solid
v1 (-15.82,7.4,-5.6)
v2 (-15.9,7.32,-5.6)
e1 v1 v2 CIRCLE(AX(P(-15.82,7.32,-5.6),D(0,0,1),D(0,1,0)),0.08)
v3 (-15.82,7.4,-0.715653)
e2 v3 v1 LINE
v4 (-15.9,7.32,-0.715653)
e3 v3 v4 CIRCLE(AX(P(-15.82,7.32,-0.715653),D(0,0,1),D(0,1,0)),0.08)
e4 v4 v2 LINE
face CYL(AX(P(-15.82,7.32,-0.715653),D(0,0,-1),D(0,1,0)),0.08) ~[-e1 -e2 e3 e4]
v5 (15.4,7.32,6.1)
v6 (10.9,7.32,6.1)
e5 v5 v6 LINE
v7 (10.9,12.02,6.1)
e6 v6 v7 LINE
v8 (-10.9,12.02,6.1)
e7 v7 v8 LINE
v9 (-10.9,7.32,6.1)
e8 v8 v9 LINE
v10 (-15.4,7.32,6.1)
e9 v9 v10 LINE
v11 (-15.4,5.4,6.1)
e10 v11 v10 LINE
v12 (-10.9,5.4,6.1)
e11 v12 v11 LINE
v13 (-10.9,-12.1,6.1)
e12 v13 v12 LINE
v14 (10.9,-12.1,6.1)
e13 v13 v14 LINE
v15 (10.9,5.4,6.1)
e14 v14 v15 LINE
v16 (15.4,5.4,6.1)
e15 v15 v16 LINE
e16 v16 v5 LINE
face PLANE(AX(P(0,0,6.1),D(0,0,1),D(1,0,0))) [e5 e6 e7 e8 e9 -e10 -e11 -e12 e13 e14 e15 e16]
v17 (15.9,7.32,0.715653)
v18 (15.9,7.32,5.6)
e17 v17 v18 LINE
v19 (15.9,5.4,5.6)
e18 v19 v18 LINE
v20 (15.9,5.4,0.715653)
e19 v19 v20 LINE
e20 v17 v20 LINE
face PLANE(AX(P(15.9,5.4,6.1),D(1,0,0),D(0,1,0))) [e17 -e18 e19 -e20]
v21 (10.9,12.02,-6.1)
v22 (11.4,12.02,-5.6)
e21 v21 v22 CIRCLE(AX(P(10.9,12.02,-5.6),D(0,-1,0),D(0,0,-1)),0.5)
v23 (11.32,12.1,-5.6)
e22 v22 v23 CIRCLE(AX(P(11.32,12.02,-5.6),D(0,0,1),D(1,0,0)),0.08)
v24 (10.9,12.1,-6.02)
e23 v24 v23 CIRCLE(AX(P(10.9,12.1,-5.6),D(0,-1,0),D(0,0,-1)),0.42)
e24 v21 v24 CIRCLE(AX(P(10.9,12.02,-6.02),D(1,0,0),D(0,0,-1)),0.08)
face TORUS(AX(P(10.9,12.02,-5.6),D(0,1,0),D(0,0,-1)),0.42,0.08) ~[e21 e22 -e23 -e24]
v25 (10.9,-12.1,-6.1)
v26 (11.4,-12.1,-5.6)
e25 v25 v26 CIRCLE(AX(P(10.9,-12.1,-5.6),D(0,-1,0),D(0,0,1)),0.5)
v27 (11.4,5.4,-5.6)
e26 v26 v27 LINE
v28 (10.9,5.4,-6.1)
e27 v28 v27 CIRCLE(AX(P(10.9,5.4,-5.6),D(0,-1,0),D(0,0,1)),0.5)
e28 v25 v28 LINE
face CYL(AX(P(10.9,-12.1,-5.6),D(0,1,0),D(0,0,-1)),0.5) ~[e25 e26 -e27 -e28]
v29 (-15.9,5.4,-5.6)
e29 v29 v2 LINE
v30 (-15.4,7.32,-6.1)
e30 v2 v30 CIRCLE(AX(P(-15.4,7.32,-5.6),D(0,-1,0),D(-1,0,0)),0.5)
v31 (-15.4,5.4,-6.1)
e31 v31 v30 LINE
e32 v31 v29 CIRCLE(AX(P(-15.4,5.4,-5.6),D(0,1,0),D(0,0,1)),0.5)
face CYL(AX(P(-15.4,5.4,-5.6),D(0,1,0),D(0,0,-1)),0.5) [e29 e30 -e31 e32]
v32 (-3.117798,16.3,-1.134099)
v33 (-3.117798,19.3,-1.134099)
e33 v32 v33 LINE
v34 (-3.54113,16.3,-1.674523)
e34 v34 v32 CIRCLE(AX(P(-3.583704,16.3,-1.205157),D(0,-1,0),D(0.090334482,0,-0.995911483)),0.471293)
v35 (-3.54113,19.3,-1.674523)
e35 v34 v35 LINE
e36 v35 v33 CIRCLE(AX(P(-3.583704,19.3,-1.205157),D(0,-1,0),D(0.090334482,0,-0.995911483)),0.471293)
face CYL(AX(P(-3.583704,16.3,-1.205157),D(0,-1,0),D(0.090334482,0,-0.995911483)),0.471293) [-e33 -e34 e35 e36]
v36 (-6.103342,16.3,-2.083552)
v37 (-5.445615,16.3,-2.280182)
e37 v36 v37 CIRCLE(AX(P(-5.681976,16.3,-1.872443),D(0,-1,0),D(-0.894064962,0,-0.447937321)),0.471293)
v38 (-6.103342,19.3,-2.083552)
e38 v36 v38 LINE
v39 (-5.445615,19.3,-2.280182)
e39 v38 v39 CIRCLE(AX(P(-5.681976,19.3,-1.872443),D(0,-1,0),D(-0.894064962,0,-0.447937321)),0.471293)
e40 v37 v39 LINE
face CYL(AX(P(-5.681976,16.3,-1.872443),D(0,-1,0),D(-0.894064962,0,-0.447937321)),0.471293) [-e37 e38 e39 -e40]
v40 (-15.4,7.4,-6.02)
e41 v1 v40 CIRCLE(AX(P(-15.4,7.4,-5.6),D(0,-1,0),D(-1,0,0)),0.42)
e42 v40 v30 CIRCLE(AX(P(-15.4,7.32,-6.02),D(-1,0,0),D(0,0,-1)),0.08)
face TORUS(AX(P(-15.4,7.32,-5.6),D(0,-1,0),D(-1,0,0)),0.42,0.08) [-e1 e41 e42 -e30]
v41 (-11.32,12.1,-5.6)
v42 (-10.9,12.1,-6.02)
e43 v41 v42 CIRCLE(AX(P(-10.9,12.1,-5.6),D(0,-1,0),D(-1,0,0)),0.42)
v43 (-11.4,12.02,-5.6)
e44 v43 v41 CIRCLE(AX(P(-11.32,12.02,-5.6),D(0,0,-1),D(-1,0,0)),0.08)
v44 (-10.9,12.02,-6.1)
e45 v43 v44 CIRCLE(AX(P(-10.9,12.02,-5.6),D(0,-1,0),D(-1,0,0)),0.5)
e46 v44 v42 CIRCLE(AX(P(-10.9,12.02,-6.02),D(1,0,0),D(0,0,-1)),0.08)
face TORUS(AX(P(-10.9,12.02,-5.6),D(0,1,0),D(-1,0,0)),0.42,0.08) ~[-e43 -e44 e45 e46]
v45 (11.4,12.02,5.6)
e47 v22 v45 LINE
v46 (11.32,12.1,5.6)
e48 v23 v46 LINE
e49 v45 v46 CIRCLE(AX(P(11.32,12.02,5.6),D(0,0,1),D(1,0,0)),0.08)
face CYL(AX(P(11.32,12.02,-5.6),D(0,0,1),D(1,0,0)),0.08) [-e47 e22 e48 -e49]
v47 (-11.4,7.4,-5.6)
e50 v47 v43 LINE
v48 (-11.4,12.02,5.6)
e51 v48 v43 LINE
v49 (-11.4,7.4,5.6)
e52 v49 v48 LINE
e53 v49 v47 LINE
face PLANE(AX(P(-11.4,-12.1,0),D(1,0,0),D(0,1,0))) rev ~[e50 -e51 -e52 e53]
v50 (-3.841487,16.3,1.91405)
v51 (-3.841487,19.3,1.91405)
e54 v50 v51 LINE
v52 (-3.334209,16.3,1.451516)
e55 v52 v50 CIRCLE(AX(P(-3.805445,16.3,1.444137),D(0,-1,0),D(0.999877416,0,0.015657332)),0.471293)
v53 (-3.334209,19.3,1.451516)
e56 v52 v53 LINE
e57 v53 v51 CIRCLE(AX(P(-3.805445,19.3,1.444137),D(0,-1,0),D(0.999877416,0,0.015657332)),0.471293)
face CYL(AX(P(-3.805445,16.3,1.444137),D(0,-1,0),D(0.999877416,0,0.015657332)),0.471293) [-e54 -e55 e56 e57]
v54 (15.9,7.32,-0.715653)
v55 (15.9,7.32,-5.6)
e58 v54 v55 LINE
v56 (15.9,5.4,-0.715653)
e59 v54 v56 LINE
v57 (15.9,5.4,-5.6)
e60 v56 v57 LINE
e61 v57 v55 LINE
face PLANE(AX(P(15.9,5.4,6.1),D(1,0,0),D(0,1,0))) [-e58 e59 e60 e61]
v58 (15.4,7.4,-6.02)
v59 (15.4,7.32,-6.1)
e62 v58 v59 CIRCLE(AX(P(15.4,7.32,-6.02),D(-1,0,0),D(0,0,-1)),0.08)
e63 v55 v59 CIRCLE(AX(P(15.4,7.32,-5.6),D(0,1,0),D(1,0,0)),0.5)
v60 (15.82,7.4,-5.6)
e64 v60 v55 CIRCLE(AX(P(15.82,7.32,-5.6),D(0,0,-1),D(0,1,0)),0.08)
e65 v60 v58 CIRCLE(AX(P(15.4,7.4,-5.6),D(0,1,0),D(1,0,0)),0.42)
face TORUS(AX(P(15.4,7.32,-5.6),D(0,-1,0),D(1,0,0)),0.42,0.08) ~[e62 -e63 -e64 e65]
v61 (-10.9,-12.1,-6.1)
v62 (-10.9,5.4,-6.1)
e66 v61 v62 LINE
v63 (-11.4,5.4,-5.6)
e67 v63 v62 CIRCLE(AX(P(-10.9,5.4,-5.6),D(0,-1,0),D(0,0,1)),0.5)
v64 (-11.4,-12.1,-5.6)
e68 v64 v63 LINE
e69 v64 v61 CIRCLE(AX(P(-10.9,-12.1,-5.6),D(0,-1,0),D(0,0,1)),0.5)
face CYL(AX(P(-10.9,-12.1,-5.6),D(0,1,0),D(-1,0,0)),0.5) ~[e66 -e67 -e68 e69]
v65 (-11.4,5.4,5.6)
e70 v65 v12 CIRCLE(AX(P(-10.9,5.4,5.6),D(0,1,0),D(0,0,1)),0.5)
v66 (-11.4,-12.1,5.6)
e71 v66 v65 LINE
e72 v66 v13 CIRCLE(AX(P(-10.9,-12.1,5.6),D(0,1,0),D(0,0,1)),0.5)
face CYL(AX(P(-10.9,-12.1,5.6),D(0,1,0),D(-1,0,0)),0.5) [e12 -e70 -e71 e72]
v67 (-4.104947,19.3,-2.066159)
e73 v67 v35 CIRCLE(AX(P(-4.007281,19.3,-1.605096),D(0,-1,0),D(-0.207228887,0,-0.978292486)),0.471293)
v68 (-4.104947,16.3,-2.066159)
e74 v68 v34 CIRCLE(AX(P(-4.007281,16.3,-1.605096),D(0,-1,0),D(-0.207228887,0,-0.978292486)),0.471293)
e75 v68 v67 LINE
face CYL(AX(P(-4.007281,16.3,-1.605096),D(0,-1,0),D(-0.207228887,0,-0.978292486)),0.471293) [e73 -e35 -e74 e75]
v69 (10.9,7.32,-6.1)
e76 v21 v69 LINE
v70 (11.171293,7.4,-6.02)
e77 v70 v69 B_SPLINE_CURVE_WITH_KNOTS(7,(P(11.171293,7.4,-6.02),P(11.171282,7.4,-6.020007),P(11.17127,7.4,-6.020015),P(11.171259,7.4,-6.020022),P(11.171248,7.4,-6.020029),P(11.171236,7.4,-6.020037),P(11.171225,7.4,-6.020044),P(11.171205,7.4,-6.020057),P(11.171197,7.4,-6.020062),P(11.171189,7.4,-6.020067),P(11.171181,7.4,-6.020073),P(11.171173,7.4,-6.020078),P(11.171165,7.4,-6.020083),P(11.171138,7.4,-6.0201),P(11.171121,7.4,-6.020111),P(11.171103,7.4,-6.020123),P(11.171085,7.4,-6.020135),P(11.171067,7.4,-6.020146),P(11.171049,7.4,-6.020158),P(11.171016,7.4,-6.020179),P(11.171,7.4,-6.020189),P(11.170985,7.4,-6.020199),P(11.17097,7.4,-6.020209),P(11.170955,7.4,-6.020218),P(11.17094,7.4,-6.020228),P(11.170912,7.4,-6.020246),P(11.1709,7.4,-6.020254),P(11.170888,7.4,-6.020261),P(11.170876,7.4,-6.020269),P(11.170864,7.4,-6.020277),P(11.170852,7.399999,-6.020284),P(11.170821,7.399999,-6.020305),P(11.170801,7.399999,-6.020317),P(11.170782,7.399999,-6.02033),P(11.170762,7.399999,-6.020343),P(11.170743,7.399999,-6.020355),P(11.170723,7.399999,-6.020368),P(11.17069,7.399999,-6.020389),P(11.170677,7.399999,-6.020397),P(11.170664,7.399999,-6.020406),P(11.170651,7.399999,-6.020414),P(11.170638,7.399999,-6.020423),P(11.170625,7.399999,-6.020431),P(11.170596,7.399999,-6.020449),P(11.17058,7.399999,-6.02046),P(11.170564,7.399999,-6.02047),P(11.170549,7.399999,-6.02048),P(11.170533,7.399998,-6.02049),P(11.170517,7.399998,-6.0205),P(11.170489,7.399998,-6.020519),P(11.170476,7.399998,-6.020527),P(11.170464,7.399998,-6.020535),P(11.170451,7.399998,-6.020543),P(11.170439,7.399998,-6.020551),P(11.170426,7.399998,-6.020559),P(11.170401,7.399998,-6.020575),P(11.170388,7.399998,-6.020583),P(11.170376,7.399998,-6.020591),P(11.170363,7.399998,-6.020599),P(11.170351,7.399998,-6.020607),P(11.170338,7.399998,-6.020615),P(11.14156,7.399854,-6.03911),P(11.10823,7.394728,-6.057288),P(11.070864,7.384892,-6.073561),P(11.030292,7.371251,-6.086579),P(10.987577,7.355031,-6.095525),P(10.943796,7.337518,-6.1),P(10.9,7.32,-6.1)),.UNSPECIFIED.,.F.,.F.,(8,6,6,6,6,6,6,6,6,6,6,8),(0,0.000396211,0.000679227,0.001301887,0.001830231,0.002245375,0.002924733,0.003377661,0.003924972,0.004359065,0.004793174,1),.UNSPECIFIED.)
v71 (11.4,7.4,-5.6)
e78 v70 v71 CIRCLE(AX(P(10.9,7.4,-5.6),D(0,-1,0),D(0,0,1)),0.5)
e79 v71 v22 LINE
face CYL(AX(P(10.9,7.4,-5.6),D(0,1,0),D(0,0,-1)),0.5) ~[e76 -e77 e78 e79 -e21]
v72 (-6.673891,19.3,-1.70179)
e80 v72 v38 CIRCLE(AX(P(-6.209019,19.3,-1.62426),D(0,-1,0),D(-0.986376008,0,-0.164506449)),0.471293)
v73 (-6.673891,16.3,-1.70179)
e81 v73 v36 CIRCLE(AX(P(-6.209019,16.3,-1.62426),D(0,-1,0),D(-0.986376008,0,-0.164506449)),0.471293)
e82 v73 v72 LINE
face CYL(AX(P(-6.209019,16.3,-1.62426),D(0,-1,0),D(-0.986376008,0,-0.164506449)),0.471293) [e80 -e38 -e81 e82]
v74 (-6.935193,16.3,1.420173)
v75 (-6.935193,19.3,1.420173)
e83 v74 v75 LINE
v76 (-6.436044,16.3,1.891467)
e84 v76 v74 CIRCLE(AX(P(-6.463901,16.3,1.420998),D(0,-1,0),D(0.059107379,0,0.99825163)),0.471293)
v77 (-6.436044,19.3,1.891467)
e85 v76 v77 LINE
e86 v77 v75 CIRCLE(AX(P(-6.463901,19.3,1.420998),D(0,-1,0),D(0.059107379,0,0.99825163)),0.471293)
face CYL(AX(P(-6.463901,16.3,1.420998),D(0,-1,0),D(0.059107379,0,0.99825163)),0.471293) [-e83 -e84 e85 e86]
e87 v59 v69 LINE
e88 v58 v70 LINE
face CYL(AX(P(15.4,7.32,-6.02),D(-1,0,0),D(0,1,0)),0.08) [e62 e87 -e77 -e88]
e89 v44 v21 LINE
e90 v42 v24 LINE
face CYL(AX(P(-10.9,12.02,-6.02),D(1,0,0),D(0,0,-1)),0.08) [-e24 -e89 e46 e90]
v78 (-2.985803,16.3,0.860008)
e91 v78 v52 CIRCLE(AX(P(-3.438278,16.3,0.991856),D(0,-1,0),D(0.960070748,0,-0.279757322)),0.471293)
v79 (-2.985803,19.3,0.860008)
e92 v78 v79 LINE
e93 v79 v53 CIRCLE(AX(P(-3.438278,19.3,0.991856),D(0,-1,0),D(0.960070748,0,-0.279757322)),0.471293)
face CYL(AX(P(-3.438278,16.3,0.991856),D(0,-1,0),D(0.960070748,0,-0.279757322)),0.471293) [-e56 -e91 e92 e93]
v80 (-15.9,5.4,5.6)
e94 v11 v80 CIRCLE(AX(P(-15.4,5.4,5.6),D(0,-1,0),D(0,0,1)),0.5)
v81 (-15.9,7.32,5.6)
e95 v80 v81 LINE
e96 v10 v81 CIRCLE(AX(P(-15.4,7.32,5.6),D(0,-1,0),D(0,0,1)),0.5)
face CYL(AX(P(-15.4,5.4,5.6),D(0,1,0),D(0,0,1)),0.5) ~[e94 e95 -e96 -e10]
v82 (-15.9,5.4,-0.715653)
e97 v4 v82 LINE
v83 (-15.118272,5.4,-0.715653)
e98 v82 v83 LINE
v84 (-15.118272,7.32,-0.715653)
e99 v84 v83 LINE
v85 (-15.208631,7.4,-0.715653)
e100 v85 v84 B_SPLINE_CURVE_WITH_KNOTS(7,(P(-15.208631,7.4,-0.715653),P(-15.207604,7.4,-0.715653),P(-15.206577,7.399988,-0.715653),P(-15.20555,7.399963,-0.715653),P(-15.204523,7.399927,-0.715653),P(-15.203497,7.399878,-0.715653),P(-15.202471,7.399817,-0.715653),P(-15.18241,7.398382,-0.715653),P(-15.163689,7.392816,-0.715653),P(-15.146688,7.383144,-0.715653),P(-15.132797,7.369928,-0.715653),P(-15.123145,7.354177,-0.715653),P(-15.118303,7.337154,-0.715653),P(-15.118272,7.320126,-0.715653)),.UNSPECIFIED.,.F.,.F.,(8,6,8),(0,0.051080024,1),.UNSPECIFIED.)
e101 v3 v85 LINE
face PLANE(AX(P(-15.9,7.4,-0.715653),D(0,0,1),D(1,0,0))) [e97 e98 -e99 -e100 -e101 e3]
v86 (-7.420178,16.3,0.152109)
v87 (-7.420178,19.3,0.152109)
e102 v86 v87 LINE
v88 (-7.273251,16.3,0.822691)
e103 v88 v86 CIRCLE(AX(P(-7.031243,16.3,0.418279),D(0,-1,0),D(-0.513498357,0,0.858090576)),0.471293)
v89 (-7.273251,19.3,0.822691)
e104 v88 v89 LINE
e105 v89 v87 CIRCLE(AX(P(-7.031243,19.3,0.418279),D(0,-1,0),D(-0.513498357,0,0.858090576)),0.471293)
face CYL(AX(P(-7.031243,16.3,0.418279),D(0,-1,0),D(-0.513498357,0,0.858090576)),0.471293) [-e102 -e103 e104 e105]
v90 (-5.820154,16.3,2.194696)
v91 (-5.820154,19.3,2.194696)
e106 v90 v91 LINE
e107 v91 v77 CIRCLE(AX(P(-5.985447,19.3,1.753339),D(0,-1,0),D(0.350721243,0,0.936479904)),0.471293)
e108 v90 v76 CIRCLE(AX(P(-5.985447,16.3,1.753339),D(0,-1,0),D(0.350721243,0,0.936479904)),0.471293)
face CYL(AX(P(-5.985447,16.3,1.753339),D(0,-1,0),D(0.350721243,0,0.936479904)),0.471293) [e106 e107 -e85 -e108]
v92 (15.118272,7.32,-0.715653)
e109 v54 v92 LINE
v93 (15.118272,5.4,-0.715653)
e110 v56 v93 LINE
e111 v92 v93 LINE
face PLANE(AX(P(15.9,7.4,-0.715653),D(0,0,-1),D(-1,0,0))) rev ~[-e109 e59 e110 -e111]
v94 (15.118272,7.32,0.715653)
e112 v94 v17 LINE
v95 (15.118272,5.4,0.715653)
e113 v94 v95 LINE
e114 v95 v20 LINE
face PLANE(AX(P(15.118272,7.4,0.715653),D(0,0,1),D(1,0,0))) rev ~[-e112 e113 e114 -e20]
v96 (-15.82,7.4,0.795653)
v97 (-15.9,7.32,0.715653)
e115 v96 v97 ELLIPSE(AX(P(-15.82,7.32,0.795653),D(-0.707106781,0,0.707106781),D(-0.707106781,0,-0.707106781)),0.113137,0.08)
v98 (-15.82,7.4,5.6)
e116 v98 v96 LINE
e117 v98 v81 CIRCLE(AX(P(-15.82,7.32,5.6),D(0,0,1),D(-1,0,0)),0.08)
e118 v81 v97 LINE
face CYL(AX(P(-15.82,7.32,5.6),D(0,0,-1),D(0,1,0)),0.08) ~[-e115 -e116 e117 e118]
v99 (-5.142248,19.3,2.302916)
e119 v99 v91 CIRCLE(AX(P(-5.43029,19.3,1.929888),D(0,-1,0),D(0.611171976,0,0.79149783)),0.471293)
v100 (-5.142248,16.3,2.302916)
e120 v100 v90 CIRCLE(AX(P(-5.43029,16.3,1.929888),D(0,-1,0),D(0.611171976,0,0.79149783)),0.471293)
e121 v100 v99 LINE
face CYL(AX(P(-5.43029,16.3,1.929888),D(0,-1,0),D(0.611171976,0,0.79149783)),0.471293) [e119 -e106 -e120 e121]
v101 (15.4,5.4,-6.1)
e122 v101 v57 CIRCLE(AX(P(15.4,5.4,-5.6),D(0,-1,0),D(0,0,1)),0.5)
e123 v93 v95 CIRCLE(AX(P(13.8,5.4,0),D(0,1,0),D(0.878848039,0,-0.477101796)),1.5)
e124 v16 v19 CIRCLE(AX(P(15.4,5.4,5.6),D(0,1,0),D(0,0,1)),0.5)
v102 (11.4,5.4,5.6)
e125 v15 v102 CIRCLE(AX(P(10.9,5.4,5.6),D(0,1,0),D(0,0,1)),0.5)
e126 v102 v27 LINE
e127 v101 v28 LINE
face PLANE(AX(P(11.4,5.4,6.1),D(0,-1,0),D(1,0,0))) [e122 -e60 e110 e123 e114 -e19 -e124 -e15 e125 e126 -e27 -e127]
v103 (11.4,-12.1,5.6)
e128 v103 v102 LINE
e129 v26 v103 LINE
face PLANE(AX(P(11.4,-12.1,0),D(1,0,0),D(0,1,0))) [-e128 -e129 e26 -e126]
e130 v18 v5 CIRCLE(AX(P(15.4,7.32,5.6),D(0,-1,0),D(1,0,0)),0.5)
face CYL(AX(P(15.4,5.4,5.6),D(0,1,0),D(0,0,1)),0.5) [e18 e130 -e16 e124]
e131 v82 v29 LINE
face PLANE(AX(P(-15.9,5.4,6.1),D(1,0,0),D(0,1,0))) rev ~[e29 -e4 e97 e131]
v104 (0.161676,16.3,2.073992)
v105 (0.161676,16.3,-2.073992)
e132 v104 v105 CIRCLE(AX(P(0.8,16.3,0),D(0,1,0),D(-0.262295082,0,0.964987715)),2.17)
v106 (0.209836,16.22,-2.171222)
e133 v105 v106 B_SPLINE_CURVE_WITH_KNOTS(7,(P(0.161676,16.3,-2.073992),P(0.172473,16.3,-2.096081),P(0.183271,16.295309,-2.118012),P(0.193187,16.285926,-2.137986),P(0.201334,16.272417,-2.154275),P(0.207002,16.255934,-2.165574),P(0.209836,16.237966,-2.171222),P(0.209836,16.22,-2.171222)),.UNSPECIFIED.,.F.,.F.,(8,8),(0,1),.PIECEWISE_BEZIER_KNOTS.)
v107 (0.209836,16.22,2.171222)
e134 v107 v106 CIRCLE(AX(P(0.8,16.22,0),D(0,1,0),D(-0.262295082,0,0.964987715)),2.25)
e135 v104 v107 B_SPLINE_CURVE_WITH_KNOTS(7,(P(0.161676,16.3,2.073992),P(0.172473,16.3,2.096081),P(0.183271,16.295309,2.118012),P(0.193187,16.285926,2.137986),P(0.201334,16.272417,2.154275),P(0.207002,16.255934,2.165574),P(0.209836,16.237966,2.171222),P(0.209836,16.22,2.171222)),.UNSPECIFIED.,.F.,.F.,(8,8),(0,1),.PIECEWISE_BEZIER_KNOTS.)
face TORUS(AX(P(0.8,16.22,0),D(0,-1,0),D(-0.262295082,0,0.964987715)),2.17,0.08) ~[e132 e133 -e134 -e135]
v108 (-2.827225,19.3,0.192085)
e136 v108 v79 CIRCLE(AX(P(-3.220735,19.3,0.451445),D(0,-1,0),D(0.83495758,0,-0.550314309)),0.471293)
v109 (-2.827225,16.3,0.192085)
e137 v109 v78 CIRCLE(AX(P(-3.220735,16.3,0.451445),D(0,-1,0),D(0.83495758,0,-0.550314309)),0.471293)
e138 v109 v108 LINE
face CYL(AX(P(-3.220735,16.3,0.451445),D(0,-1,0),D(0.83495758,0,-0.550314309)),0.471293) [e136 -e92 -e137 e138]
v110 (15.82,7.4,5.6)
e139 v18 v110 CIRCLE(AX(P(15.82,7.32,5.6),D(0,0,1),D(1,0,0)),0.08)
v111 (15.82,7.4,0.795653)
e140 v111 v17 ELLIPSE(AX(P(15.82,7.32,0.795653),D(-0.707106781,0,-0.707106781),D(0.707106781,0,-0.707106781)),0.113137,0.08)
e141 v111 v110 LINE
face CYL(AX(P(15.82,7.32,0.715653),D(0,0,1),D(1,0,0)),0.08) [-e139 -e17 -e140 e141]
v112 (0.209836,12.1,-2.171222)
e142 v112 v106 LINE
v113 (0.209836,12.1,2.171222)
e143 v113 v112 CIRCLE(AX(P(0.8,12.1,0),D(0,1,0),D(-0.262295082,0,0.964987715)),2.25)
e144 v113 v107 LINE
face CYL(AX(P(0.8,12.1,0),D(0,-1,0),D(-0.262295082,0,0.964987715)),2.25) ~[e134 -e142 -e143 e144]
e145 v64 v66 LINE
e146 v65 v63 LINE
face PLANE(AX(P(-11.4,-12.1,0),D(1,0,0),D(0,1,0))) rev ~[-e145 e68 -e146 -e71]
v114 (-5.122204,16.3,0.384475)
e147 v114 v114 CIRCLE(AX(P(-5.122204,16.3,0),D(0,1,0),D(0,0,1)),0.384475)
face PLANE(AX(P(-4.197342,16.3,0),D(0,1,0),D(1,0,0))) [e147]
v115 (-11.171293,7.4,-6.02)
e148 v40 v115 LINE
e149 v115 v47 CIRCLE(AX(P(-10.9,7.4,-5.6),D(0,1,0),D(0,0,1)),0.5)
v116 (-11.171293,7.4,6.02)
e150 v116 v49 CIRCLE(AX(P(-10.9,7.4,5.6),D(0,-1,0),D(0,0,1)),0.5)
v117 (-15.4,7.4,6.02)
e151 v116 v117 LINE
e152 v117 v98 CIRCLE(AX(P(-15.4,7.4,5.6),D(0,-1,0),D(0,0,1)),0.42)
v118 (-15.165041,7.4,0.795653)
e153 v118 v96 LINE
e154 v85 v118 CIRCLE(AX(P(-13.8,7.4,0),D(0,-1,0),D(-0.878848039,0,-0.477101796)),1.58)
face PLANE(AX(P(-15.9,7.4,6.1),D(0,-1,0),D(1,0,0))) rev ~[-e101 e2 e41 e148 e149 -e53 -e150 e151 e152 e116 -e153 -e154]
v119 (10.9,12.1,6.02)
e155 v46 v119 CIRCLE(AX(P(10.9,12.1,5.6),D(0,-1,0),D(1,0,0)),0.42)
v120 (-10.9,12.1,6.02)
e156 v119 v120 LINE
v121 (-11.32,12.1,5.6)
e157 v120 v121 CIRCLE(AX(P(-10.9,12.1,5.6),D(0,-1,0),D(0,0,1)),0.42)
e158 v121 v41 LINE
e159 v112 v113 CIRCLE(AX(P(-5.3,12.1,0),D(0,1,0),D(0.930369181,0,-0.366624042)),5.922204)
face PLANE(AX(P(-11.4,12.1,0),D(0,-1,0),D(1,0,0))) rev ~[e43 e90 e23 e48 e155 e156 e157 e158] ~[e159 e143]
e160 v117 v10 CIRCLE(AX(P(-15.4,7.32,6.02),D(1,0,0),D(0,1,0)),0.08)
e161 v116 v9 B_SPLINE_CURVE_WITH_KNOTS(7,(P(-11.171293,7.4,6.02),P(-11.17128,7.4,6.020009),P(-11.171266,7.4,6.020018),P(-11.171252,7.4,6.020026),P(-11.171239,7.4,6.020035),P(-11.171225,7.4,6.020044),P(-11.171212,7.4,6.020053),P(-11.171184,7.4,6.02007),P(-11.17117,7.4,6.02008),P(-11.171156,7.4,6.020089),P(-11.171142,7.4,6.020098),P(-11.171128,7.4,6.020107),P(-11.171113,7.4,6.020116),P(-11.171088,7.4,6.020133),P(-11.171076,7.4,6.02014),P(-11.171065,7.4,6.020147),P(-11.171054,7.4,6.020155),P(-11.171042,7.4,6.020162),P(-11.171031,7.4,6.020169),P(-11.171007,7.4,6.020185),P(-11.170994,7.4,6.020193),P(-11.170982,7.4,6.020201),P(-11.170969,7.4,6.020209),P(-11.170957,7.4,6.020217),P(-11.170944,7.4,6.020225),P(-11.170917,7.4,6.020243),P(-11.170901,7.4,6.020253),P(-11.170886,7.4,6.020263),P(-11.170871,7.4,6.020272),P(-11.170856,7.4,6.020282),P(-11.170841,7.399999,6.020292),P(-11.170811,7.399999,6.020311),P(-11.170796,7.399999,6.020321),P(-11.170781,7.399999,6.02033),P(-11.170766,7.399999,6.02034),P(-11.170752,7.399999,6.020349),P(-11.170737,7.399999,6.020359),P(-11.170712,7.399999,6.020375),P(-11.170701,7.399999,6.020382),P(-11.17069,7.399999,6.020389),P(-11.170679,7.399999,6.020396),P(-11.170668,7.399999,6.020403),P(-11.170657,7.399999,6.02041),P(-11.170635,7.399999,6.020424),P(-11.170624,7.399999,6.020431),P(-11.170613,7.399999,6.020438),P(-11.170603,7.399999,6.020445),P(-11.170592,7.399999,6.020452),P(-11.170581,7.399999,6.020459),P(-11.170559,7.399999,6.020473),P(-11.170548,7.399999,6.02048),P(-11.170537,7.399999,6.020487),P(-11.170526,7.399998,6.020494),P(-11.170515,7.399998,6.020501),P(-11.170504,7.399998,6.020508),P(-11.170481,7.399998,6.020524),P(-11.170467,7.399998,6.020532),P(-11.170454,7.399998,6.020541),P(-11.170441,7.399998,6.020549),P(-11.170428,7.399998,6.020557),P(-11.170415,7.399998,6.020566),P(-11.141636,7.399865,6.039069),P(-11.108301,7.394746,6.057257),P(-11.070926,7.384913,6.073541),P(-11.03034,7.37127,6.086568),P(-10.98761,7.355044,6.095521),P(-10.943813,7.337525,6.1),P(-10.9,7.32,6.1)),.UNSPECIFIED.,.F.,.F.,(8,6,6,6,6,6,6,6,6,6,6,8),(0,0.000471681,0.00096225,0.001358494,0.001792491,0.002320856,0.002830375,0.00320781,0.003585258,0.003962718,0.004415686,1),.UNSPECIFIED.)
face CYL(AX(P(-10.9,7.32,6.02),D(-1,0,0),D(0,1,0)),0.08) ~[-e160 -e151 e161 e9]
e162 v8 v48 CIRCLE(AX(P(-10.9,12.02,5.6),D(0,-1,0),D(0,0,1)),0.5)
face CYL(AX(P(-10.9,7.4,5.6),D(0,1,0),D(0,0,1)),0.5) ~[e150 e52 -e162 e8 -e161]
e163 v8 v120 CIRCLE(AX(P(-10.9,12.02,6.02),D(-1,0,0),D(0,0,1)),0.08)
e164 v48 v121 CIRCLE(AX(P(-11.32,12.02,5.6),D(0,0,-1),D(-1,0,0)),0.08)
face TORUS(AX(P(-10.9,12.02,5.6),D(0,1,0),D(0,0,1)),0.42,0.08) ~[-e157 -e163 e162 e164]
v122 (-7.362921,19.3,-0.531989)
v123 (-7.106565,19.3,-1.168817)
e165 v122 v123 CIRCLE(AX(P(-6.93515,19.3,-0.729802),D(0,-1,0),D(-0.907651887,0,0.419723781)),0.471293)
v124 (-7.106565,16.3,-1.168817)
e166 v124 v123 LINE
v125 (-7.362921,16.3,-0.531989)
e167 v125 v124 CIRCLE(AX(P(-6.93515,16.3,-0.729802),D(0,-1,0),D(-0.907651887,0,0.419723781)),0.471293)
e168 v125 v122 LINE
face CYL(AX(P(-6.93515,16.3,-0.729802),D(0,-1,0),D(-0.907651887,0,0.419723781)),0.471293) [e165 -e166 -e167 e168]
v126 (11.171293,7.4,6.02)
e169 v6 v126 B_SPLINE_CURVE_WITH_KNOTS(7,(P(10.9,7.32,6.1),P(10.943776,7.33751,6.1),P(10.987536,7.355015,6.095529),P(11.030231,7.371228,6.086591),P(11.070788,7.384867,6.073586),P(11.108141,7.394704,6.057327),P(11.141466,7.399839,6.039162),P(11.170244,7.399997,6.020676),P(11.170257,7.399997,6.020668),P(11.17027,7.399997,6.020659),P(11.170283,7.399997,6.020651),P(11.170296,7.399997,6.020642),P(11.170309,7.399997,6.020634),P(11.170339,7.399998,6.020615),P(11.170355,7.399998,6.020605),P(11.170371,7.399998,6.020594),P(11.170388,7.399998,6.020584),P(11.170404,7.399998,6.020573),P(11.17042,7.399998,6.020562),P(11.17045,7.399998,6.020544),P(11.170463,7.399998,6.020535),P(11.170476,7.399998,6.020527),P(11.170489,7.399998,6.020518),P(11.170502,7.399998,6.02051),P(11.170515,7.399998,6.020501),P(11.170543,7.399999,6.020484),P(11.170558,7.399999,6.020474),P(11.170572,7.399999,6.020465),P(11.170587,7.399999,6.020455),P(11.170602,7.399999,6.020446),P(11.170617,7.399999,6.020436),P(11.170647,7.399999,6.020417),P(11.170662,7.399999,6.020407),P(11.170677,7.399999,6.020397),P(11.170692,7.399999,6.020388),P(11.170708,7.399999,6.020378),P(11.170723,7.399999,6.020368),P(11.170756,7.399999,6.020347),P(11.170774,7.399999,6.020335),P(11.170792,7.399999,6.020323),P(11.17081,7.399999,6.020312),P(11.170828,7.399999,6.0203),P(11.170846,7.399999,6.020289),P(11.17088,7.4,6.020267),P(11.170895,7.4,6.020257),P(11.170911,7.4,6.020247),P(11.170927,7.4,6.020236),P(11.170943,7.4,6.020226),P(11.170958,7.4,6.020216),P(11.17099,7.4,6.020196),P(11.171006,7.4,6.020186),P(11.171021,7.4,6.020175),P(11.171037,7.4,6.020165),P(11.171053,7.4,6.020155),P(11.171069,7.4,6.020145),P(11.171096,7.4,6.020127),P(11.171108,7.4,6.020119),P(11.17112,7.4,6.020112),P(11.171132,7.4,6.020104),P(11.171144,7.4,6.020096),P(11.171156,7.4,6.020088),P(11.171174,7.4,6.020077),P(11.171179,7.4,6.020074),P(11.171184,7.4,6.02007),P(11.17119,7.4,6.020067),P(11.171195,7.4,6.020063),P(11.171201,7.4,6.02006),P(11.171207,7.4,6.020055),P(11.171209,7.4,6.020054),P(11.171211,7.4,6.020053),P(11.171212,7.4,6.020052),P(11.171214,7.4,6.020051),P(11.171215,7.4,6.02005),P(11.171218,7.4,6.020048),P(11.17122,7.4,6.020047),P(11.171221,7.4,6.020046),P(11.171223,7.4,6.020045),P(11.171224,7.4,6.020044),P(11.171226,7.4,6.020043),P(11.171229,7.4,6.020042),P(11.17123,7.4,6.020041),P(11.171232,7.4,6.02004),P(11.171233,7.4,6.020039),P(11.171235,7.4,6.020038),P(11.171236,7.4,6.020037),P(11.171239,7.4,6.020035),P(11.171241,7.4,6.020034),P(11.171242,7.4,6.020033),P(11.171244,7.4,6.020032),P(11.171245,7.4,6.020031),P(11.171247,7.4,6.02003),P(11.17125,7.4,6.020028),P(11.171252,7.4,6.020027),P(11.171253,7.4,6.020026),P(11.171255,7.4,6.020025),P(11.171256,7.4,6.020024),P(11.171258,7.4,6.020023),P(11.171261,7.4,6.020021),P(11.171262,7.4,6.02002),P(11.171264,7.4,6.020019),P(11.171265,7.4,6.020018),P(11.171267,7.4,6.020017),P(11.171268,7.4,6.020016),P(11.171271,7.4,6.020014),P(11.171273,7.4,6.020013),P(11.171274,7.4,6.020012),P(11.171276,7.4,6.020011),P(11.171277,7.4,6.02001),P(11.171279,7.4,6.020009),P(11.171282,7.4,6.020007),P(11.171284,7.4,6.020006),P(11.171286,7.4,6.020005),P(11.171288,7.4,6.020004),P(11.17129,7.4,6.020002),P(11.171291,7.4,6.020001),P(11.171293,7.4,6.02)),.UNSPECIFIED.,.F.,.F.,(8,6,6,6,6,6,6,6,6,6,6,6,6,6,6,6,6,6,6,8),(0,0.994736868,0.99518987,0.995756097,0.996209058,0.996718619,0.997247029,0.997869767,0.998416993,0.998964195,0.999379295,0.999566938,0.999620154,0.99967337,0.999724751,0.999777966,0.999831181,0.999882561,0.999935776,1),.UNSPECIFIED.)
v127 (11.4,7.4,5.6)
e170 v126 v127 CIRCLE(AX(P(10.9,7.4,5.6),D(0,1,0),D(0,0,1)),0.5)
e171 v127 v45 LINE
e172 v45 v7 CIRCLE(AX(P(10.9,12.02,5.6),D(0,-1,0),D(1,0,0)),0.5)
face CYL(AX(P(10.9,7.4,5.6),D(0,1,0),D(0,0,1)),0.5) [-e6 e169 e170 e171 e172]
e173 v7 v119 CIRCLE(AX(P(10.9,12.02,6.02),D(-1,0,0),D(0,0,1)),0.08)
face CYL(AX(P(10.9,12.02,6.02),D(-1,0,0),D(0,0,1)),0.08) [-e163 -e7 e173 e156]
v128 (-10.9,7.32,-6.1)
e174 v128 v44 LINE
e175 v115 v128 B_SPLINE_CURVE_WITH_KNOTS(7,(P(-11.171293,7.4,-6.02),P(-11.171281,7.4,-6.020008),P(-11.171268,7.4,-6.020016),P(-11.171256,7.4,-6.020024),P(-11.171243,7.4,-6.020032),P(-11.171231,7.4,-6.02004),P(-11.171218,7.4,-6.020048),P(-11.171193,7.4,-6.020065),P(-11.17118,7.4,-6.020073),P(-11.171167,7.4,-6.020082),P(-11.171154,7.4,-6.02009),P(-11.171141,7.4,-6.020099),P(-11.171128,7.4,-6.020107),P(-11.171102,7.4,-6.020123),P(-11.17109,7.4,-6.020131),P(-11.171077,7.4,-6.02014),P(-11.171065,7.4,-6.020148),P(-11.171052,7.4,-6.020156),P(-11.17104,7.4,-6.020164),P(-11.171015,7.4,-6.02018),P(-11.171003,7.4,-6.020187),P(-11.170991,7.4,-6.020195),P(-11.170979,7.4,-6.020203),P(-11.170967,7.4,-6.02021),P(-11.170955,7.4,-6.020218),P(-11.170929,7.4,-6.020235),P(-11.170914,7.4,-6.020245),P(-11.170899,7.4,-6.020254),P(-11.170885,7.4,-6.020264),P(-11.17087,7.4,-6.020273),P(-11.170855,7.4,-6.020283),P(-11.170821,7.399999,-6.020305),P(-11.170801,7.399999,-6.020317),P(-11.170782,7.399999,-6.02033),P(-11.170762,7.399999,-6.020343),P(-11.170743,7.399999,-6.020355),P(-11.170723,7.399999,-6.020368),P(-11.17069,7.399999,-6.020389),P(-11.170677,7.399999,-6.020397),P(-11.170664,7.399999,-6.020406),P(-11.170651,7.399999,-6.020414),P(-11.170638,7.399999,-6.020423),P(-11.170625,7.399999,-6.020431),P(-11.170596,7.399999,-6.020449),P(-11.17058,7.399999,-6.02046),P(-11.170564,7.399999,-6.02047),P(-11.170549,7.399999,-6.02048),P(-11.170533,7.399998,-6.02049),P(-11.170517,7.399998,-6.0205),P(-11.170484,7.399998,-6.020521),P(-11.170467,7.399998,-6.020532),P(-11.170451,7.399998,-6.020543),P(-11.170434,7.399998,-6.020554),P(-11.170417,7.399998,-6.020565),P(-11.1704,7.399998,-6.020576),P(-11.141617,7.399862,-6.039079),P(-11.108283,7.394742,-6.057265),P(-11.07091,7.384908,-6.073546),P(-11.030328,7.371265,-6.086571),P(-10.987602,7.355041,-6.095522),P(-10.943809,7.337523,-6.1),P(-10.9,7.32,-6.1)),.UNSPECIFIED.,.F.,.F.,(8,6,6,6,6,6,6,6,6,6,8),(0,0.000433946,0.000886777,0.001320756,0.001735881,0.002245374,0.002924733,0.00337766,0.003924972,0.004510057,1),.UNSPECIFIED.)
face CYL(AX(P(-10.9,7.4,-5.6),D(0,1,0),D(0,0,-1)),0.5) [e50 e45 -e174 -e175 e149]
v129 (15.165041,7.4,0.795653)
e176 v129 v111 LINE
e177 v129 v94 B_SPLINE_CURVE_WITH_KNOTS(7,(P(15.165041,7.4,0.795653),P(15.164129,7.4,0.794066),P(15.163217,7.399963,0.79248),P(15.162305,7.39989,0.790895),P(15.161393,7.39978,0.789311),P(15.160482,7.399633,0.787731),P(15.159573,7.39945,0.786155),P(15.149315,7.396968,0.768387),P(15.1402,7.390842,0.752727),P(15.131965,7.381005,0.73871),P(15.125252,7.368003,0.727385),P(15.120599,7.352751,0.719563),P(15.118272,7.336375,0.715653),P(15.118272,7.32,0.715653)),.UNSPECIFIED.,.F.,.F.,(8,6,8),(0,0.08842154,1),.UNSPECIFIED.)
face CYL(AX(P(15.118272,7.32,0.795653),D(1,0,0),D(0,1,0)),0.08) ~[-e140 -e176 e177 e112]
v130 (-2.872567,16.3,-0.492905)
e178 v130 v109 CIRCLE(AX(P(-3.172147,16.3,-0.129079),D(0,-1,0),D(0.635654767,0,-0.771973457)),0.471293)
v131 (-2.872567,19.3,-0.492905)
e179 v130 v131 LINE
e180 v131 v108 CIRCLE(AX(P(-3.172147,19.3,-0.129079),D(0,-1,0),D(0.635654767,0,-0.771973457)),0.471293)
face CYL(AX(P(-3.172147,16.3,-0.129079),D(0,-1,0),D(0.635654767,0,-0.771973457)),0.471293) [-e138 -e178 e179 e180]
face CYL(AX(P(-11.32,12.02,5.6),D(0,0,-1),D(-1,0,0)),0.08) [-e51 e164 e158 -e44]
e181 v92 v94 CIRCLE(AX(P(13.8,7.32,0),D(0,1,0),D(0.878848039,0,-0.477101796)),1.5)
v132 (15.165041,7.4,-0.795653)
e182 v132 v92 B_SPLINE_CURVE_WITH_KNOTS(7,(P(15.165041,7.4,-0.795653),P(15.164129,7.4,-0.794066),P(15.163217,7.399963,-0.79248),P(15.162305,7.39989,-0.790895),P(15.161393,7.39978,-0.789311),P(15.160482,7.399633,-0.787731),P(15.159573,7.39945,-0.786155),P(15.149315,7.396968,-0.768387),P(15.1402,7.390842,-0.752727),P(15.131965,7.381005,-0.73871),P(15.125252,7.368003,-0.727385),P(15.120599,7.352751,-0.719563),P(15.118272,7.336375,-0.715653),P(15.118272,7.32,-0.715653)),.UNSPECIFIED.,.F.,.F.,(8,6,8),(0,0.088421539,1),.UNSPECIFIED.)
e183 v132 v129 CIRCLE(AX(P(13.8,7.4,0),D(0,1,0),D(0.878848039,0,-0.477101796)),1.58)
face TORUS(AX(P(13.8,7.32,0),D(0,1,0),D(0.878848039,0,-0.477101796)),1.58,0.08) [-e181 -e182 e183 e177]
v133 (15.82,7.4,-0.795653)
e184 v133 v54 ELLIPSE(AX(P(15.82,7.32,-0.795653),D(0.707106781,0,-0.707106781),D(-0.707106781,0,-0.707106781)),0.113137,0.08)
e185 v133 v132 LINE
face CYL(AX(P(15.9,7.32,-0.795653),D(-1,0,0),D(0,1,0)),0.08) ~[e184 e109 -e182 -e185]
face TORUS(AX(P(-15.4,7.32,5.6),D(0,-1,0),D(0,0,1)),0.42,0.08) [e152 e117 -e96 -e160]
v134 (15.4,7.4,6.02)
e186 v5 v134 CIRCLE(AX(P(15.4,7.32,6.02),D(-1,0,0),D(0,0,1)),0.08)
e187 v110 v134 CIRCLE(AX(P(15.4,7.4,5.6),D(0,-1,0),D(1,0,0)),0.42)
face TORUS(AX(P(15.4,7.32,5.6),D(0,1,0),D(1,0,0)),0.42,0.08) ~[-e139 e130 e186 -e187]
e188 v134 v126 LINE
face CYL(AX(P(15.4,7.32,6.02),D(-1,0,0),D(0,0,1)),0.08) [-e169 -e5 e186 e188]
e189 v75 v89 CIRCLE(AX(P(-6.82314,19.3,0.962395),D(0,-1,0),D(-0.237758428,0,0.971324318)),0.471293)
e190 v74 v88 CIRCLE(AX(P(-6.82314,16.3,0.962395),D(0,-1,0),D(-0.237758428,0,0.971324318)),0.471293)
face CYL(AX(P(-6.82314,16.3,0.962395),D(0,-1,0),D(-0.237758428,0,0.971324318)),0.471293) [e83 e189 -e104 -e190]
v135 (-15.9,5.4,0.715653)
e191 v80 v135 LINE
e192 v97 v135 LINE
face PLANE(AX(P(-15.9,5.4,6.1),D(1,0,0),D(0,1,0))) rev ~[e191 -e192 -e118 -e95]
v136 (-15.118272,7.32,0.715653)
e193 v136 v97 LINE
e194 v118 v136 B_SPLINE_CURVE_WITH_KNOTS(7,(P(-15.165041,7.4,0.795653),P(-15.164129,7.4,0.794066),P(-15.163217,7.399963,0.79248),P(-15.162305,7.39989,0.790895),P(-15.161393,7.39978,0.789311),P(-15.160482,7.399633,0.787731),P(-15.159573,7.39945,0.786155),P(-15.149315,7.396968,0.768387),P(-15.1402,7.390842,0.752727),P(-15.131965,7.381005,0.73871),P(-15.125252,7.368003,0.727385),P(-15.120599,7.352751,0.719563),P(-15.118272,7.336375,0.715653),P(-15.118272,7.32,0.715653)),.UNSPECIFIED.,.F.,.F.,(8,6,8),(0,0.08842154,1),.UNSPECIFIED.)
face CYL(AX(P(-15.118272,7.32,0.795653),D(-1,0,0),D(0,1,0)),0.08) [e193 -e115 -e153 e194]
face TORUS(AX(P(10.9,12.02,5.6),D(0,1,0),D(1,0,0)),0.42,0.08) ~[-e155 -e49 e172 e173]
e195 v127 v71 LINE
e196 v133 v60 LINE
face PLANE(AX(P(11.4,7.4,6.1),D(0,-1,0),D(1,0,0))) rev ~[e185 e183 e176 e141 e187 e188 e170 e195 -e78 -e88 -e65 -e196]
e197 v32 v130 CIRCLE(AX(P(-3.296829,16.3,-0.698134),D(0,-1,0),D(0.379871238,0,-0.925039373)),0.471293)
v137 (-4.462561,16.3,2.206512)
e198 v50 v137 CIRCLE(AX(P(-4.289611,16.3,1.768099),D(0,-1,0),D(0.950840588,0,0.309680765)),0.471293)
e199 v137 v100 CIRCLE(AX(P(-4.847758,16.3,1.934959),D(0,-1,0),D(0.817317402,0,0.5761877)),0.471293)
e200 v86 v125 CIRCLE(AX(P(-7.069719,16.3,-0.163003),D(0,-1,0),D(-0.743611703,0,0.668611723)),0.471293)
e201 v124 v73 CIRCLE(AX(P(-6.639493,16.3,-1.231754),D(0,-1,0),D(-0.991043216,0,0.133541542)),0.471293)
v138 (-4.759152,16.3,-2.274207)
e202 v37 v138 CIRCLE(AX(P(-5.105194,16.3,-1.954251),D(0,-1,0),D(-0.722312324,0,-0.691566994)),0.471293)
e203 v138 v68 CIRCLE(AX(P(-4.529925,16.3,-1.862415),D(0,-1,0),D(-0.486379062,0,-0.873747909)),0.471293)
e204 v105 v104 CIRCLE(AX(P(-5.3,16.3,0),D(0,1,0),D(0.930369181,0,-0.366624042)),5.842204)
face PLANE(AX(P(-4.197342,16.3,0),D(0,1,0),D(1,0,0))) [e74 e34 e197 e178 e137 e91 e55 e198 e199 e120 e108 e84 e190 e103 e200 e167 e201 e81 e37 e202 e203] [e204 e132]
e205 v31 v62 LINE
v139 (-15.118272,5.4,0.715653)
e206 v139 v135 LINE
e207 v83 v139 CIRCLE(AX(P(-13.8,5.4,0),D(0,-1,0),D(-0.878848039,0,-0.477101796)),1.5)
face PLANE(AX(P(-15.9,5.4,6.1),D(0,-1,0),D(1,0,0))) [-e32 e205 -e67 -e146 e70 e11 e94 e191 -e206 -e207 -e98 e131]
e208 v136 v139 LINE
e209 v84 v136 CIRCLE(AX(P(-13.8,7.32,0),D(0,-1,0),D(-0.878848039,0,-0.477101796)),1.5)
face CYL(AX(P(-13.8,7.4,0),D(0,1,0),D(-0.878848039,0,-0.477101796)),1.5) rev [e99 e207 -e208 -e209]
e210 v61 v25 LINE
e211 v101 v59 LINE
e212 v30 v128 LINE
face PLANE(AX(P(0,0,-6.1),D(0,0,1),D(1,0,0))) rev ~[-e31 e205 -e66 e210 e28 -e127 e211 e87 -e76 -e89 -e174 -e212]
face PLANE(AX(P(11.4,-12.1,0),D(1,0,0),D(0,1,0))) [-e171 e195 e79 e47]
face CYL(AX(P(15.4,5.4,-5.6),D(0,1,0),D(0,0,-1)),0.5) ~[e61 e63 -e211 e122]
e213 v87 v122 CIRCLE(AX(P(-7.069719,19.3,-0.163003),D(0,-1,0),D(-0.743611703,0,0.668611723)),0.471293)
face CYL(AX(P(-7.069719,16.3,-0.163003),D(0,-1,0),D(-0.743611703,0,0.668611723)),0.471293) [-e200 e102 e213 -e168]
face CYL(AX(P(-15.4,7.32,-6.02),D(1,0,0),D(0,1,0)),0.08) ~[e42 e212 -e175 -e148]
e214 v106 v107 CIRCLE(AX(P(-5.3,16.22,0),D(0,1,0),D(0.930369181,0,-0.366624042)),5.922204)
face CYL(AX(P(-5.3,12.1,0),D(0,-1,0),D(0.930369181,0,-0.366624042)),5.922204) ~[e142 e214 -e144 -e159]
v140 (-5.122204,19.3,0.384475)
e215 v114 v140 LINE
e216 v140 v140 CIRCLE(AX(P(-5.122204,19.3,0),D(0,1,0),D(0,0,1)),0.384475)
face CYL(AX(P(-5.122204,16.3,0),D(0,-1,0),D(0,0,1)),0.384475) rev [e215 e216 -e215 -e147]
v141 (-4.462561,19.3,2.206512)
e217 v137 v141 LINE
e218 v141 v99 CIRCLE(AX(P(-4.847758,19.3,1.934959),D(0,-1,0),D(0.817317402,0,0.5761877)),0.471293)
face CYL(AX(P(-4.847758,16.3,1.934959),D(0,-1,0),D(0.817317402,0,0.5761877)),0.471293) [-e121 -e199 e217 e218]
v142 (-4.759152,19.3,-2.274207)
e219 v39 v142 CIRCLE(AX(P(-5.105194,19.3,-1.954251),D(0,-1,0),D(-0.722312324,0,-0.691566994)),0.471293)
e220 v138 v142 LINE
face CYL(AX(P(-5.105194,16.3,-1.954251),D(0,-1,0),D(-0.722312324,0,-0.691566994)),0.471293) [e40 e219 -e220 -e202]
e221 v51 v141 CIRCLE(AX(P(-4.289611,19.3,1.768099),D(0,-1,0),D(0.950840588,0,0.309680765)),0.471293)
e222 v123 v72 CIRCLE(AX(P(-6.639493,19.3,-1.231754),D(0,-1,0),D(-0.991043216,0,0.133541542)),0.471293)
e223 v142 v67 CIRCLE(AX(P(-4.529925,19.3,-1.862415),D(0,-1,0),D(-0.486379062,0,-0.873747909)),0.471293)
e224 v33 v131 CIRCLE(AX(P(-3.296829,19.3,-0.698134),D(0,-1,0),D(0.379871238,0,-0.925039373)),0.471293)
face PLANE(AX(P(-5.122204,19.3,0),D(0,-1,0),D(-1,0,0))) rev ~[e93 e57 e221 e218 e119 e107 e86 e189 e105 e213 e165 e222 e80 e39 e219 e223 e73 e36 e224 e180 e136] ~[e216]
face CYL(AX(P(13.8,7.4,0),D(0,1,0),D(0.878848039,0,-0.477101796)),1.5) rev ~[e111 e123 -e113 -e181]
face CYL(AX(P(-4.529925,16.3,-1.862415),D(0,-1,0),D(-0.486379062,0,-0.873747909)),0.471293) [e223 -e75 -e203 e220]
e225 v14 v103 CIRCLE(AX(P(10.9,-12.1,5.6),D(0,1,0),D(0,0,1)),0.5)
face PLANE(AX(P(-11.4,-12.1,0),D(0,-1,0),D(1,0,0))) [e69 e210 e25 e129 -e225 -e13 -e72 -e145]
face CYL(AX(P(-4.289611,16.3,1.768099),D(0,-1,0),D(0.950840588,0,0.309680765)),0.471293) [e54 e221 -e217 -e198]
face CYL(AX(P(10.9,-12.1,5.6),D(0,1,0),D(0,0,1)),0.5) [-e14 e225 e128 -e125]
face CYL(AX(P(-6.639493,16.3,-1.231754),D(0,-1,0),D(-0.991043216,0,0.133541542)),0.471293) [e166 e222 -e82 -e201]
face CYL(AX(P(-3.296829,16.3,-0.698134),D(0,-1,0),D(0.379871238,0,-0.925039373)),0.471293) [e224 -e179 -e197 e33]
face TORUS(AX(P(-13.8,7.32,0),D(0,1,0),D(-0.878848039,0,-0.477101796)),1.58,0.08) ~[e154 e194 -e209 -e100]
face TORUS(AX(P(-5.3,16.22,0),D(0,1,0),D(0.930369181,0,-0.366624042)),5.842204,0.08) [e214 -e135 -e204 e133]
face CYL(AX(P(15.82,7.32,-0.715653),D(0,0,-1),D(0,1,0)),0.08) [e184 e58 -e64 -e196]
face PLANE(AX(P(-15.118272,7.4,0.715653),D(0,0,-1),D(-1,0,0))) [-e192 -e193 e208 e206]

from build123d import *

# Parameters (mm, degrees)
SKETCH_1_W          = 22.8
SKETCH_1_H          = 24.2
EXTRUDE_1_DEPTH     = 6.1
EXTRUDE_3_DEPTH     = 4.2
SKETCH_5_W          = 4.5
SKETCH_5_H          = 2
EXTRUDE_4_DEPTH     = 12.2
CUT_EXTRUDE_1_DEPTH = 2
SKETCH_7_R          = 0.384474671
EXTRUDE_5_DEPTH     = 3
FILLET_1_R          = 0.5
FILLET_2_R          = 0.08


with BuildPart() as part:
    # 草图1 → 凸台-拉伸1 (new, symmetric)
    with BuildSketch(Plane.XY):
        Rectangle(SKETCH_1_W, SKETCH_1_H)
    extrude(amount=EXTRUDE_1_DEPTH, both=True)

    # 草图4 → 凸台-拉伸3 (add)
    with BuildSketch(Plane(origin=(0, 12.1, 0), x_dir=(1, 0, 0), z_dir=(0, 1, 0))):
        with BuildLine():
            ThreePointArc((0.209836066, 2.171222359), (-11.222203982, 0), (0.209836066, -2.171222359))
            ThreePointArc((0.209836066, -2.171222359), (3.05, 0), (0.209836066, 2.171222359))
        make_face()
    extrude(amount=EXTRUDE_3_DEPTH)

    # 草图5 → 凸台-拉伸4 (add)
    with BuildSketch(Plane.XY.offset(6.1)):
        with Locations((13.65, 6.4)):
            Rectangle(SKETCH_5_W, SKETCH_5_H)
        with Locations((-13.65, 6.4)):
            Rectangle(SKETCH_5_W, SKETCH_5_H)
    extrude(amount=-EXTRUDE_4_DEPTH)

    # 草图6 → 切除-拉伸1 (cut)
    with BuildSketch(Plane(origin=(0, 7.4, 0), x_dir=(1, 0, 0), z_dir=(0, 1, 0))):
        with BuildLine():
            Line((15.9, 0.715652694), (15.118272059, 0.715652694))
            ThreePointArc((15.118272059, 0.715652694), (12.3, 0), (15.118272059, -0.715652694))
            Line((15.118272059, -0.715652694), (15.9, -0.715652694))
            Line((15.9, -0.715652694), (15.9, 0.715652694))
        make_face()
        with BuildLine():
            Line((-15.9, 0.715652694), (-15.118272059, 0.715652694))
            ThreePointArc((-15.118272059, 0.715652694), (-12.3, 0), (-15.118272059, -0.715652694))
            Line((-15.118272059, -0.715652694), (-15.9, -0.715652694))
            Line((-15.9, -0.715652694), (-15.9, 0.715652694))
        make_face()
    extrude(amount=-CUT_EXTRUDE_1_DEPTH, mode=Mode.SUBTRACT)

    # 草图7 → 凸台-拉伸5 (add)
    with BuildSketch(Plane(origin=(0, 16.3, 0), x_dir=(1, 0, 0), z_dir=(0, 1, 0))):
        with BuildLine():
            ThreePointArc((-4.10494696, 2.066158577), (-3.738413317, 1.992171241), (-3.541129904, 1.674523178))
            ThreePointArc((-3.541129904, 1.674523178), (-3.212688472, 1.495785204), (-3.117798218, 1.134099046))
            ThreePointArc((-3.117798218, 1.134099046), (-2.85663246, 0.866492087), (-2.87256678, 0.492905236))
            ThreePointArc((-2.87256678, 0.492905236), (-2.70188242, 0.160207346), (-2.82722548, -0.192085366))
            ThreePointArc((-2.82722548, -0.192085366), (-2.762188572, -0.560312521), (-2.985803091, -0.860008341))
            ThreePointArc((-2.985803091, -0.860008341), (-3.03219245, -1.231046162), (-3.334209297, -1.4515158))
            ThreePointArc((-3.334209297, -1.4515158), (-3.487903024, -1.792395948), (-3.841486677, -1.914049711))
            ThreePointArc((-3.841486677, -1.914049711), (-4.088828411, -2.194483489), (-4.46256141, -2.206511906))
            ThreePointArc((-4.46256141, -2.206511906), (-4.781573751, -2.401581542), (-5.14224828, -2.302915834))
            ThreePointArc((-5.14224828, -2.302915834), (-5.504585583, -2.395288535), (-5.820154126, -2.194695584))
            ThreePointArc((-5.820154126, -2.194695584), (-6.193621131, -2.176163631), (-6.436044039, -1.891467001))
            ThreePointArc((-6.436044039, -1.891467001), (-6.787456564, -1.763677037), (-6.935193498, -1.420173274))
            ThreePointArc((-6.935193498, -1.420173274), (-7.233326997, -1.19448), (-7.273250881, -0.822690919))
            ThreePointArc((-7.273250881, -0.822690919), (-7.491614885, -0.519148172), (-7.420178308, -0.152108866))
            ThreePointArc((-7.420178308, -0.152108866), (-7.539370217, 0.202312249), (-7.362920632, 0.531988728))
            ThreePointArc((-7.362920632, 0.531988728), (-7.372349721, 0.905796338), (-7.106565448, 1.168816788))
            ThreePointArc((-7.106565448, 1.168816788), (-7.005393902, 1.528796448), (-6.673891039, 1.701790348))
            ThreePointArc((-6.673891039, 1.701790348), (-6.471108394, 2.015956285), (-6.103342426, 2.083552367))
            ThreePointArc((-6.103342426, 2.083552367), (-5.816966809, 2.323989559), (-5.445615356, 2.280181614))
            ThreePointArc((-5.445615356, 2.280181614), (-5.101092498, 2.425526162), (-4.759151767, 2.274206719))
            ThreePointArc((-4.759151767, 2.274206719), (-4.387094035, 2.311544121), (-4.10494696, 2.066158577))
        make_face()
        with Locations(Location((-5.122203982, 0, 0), (0, 0, 270))):
            Circle(SKETCH_7_R, mode=Mode.SUBTRACT)
    extrude(amount=EXTRUDE_5_DEPTH)

    # 圆角1
    fillet_1_edges = [part.edges().sort_by_distance(p)[0] for p in [
        (-11.4, 9.75, 6.1),
        (11.4, 9.75, -6.1),
        (11.4, 9.75, 6.1),
        (15.9, 6.4, -6.1),
        (15.9, 6.4, 6.1),
        (-11.4, -3.35, -6.1),
        (-11.4, -3.35, 6.1),
        (-15.9, 6.4, -6.1),
        (-15.9, 6.4, 6.1),
        (11.4, -3.35, 6.1),
        (-11.4, 9.75, -6.1),
        (11.4, -3.35, -6.1),
    ]]
    fillet(fillet_1_edges, radius=FILLET_1_R)

    # 圆角2
    fillet_2_edges = [part.edges().sort_by_distance(p)[0] for p in [
        (3.05, 16.3, 0),
        (-11.222203982, 16.3, 0),
        (-11.253553391, 12.1, 5.953553391),
        (15.50913603, 7.4, 0.715652694),
        (15.50913603, 7.4, -0.715652694),
        (12.3, 7.4, 0),
        (13.15, 7.4, 6.1),
        (15.753553391, 7.4, 5.953553391),
        (15.9, 7.4, 3.157826347),
        (15.9, 7.4, -3.157826347),
        (15.753553391, 7.4, -5.953553391),
        (13.15, 7.4, -6.1),
        (-15.50913603, 7.4, 0.715652694),
        (-12.3, 7.4, 0),
        (-15.9, 7.4, -3.157826347),
        (-15.753553391, 7.4, -5.953553391),
        (-13.15, 7.4, -6.1),
        (-15.9, 7.4, 3.157826347),
        (-15.753553391, 7.4, 5.953553391),
        (-13.15, 7.4, 6.1),
        (-11.4, 12.1, 0),
        (-11.253553391, 12.1, -5.953553391),
        (11.253553391, 12.1, 5.953553391),
        (11.253553391, 12.1, -5.953553391),
        (0, 12.1, -6.1),
        (11.4, 12.1, 0),
        (0, 12.1, 6.1),
    ]]
    fillet(fillet_2_edges, radius=FILLET_2_R)


solid = part.part
